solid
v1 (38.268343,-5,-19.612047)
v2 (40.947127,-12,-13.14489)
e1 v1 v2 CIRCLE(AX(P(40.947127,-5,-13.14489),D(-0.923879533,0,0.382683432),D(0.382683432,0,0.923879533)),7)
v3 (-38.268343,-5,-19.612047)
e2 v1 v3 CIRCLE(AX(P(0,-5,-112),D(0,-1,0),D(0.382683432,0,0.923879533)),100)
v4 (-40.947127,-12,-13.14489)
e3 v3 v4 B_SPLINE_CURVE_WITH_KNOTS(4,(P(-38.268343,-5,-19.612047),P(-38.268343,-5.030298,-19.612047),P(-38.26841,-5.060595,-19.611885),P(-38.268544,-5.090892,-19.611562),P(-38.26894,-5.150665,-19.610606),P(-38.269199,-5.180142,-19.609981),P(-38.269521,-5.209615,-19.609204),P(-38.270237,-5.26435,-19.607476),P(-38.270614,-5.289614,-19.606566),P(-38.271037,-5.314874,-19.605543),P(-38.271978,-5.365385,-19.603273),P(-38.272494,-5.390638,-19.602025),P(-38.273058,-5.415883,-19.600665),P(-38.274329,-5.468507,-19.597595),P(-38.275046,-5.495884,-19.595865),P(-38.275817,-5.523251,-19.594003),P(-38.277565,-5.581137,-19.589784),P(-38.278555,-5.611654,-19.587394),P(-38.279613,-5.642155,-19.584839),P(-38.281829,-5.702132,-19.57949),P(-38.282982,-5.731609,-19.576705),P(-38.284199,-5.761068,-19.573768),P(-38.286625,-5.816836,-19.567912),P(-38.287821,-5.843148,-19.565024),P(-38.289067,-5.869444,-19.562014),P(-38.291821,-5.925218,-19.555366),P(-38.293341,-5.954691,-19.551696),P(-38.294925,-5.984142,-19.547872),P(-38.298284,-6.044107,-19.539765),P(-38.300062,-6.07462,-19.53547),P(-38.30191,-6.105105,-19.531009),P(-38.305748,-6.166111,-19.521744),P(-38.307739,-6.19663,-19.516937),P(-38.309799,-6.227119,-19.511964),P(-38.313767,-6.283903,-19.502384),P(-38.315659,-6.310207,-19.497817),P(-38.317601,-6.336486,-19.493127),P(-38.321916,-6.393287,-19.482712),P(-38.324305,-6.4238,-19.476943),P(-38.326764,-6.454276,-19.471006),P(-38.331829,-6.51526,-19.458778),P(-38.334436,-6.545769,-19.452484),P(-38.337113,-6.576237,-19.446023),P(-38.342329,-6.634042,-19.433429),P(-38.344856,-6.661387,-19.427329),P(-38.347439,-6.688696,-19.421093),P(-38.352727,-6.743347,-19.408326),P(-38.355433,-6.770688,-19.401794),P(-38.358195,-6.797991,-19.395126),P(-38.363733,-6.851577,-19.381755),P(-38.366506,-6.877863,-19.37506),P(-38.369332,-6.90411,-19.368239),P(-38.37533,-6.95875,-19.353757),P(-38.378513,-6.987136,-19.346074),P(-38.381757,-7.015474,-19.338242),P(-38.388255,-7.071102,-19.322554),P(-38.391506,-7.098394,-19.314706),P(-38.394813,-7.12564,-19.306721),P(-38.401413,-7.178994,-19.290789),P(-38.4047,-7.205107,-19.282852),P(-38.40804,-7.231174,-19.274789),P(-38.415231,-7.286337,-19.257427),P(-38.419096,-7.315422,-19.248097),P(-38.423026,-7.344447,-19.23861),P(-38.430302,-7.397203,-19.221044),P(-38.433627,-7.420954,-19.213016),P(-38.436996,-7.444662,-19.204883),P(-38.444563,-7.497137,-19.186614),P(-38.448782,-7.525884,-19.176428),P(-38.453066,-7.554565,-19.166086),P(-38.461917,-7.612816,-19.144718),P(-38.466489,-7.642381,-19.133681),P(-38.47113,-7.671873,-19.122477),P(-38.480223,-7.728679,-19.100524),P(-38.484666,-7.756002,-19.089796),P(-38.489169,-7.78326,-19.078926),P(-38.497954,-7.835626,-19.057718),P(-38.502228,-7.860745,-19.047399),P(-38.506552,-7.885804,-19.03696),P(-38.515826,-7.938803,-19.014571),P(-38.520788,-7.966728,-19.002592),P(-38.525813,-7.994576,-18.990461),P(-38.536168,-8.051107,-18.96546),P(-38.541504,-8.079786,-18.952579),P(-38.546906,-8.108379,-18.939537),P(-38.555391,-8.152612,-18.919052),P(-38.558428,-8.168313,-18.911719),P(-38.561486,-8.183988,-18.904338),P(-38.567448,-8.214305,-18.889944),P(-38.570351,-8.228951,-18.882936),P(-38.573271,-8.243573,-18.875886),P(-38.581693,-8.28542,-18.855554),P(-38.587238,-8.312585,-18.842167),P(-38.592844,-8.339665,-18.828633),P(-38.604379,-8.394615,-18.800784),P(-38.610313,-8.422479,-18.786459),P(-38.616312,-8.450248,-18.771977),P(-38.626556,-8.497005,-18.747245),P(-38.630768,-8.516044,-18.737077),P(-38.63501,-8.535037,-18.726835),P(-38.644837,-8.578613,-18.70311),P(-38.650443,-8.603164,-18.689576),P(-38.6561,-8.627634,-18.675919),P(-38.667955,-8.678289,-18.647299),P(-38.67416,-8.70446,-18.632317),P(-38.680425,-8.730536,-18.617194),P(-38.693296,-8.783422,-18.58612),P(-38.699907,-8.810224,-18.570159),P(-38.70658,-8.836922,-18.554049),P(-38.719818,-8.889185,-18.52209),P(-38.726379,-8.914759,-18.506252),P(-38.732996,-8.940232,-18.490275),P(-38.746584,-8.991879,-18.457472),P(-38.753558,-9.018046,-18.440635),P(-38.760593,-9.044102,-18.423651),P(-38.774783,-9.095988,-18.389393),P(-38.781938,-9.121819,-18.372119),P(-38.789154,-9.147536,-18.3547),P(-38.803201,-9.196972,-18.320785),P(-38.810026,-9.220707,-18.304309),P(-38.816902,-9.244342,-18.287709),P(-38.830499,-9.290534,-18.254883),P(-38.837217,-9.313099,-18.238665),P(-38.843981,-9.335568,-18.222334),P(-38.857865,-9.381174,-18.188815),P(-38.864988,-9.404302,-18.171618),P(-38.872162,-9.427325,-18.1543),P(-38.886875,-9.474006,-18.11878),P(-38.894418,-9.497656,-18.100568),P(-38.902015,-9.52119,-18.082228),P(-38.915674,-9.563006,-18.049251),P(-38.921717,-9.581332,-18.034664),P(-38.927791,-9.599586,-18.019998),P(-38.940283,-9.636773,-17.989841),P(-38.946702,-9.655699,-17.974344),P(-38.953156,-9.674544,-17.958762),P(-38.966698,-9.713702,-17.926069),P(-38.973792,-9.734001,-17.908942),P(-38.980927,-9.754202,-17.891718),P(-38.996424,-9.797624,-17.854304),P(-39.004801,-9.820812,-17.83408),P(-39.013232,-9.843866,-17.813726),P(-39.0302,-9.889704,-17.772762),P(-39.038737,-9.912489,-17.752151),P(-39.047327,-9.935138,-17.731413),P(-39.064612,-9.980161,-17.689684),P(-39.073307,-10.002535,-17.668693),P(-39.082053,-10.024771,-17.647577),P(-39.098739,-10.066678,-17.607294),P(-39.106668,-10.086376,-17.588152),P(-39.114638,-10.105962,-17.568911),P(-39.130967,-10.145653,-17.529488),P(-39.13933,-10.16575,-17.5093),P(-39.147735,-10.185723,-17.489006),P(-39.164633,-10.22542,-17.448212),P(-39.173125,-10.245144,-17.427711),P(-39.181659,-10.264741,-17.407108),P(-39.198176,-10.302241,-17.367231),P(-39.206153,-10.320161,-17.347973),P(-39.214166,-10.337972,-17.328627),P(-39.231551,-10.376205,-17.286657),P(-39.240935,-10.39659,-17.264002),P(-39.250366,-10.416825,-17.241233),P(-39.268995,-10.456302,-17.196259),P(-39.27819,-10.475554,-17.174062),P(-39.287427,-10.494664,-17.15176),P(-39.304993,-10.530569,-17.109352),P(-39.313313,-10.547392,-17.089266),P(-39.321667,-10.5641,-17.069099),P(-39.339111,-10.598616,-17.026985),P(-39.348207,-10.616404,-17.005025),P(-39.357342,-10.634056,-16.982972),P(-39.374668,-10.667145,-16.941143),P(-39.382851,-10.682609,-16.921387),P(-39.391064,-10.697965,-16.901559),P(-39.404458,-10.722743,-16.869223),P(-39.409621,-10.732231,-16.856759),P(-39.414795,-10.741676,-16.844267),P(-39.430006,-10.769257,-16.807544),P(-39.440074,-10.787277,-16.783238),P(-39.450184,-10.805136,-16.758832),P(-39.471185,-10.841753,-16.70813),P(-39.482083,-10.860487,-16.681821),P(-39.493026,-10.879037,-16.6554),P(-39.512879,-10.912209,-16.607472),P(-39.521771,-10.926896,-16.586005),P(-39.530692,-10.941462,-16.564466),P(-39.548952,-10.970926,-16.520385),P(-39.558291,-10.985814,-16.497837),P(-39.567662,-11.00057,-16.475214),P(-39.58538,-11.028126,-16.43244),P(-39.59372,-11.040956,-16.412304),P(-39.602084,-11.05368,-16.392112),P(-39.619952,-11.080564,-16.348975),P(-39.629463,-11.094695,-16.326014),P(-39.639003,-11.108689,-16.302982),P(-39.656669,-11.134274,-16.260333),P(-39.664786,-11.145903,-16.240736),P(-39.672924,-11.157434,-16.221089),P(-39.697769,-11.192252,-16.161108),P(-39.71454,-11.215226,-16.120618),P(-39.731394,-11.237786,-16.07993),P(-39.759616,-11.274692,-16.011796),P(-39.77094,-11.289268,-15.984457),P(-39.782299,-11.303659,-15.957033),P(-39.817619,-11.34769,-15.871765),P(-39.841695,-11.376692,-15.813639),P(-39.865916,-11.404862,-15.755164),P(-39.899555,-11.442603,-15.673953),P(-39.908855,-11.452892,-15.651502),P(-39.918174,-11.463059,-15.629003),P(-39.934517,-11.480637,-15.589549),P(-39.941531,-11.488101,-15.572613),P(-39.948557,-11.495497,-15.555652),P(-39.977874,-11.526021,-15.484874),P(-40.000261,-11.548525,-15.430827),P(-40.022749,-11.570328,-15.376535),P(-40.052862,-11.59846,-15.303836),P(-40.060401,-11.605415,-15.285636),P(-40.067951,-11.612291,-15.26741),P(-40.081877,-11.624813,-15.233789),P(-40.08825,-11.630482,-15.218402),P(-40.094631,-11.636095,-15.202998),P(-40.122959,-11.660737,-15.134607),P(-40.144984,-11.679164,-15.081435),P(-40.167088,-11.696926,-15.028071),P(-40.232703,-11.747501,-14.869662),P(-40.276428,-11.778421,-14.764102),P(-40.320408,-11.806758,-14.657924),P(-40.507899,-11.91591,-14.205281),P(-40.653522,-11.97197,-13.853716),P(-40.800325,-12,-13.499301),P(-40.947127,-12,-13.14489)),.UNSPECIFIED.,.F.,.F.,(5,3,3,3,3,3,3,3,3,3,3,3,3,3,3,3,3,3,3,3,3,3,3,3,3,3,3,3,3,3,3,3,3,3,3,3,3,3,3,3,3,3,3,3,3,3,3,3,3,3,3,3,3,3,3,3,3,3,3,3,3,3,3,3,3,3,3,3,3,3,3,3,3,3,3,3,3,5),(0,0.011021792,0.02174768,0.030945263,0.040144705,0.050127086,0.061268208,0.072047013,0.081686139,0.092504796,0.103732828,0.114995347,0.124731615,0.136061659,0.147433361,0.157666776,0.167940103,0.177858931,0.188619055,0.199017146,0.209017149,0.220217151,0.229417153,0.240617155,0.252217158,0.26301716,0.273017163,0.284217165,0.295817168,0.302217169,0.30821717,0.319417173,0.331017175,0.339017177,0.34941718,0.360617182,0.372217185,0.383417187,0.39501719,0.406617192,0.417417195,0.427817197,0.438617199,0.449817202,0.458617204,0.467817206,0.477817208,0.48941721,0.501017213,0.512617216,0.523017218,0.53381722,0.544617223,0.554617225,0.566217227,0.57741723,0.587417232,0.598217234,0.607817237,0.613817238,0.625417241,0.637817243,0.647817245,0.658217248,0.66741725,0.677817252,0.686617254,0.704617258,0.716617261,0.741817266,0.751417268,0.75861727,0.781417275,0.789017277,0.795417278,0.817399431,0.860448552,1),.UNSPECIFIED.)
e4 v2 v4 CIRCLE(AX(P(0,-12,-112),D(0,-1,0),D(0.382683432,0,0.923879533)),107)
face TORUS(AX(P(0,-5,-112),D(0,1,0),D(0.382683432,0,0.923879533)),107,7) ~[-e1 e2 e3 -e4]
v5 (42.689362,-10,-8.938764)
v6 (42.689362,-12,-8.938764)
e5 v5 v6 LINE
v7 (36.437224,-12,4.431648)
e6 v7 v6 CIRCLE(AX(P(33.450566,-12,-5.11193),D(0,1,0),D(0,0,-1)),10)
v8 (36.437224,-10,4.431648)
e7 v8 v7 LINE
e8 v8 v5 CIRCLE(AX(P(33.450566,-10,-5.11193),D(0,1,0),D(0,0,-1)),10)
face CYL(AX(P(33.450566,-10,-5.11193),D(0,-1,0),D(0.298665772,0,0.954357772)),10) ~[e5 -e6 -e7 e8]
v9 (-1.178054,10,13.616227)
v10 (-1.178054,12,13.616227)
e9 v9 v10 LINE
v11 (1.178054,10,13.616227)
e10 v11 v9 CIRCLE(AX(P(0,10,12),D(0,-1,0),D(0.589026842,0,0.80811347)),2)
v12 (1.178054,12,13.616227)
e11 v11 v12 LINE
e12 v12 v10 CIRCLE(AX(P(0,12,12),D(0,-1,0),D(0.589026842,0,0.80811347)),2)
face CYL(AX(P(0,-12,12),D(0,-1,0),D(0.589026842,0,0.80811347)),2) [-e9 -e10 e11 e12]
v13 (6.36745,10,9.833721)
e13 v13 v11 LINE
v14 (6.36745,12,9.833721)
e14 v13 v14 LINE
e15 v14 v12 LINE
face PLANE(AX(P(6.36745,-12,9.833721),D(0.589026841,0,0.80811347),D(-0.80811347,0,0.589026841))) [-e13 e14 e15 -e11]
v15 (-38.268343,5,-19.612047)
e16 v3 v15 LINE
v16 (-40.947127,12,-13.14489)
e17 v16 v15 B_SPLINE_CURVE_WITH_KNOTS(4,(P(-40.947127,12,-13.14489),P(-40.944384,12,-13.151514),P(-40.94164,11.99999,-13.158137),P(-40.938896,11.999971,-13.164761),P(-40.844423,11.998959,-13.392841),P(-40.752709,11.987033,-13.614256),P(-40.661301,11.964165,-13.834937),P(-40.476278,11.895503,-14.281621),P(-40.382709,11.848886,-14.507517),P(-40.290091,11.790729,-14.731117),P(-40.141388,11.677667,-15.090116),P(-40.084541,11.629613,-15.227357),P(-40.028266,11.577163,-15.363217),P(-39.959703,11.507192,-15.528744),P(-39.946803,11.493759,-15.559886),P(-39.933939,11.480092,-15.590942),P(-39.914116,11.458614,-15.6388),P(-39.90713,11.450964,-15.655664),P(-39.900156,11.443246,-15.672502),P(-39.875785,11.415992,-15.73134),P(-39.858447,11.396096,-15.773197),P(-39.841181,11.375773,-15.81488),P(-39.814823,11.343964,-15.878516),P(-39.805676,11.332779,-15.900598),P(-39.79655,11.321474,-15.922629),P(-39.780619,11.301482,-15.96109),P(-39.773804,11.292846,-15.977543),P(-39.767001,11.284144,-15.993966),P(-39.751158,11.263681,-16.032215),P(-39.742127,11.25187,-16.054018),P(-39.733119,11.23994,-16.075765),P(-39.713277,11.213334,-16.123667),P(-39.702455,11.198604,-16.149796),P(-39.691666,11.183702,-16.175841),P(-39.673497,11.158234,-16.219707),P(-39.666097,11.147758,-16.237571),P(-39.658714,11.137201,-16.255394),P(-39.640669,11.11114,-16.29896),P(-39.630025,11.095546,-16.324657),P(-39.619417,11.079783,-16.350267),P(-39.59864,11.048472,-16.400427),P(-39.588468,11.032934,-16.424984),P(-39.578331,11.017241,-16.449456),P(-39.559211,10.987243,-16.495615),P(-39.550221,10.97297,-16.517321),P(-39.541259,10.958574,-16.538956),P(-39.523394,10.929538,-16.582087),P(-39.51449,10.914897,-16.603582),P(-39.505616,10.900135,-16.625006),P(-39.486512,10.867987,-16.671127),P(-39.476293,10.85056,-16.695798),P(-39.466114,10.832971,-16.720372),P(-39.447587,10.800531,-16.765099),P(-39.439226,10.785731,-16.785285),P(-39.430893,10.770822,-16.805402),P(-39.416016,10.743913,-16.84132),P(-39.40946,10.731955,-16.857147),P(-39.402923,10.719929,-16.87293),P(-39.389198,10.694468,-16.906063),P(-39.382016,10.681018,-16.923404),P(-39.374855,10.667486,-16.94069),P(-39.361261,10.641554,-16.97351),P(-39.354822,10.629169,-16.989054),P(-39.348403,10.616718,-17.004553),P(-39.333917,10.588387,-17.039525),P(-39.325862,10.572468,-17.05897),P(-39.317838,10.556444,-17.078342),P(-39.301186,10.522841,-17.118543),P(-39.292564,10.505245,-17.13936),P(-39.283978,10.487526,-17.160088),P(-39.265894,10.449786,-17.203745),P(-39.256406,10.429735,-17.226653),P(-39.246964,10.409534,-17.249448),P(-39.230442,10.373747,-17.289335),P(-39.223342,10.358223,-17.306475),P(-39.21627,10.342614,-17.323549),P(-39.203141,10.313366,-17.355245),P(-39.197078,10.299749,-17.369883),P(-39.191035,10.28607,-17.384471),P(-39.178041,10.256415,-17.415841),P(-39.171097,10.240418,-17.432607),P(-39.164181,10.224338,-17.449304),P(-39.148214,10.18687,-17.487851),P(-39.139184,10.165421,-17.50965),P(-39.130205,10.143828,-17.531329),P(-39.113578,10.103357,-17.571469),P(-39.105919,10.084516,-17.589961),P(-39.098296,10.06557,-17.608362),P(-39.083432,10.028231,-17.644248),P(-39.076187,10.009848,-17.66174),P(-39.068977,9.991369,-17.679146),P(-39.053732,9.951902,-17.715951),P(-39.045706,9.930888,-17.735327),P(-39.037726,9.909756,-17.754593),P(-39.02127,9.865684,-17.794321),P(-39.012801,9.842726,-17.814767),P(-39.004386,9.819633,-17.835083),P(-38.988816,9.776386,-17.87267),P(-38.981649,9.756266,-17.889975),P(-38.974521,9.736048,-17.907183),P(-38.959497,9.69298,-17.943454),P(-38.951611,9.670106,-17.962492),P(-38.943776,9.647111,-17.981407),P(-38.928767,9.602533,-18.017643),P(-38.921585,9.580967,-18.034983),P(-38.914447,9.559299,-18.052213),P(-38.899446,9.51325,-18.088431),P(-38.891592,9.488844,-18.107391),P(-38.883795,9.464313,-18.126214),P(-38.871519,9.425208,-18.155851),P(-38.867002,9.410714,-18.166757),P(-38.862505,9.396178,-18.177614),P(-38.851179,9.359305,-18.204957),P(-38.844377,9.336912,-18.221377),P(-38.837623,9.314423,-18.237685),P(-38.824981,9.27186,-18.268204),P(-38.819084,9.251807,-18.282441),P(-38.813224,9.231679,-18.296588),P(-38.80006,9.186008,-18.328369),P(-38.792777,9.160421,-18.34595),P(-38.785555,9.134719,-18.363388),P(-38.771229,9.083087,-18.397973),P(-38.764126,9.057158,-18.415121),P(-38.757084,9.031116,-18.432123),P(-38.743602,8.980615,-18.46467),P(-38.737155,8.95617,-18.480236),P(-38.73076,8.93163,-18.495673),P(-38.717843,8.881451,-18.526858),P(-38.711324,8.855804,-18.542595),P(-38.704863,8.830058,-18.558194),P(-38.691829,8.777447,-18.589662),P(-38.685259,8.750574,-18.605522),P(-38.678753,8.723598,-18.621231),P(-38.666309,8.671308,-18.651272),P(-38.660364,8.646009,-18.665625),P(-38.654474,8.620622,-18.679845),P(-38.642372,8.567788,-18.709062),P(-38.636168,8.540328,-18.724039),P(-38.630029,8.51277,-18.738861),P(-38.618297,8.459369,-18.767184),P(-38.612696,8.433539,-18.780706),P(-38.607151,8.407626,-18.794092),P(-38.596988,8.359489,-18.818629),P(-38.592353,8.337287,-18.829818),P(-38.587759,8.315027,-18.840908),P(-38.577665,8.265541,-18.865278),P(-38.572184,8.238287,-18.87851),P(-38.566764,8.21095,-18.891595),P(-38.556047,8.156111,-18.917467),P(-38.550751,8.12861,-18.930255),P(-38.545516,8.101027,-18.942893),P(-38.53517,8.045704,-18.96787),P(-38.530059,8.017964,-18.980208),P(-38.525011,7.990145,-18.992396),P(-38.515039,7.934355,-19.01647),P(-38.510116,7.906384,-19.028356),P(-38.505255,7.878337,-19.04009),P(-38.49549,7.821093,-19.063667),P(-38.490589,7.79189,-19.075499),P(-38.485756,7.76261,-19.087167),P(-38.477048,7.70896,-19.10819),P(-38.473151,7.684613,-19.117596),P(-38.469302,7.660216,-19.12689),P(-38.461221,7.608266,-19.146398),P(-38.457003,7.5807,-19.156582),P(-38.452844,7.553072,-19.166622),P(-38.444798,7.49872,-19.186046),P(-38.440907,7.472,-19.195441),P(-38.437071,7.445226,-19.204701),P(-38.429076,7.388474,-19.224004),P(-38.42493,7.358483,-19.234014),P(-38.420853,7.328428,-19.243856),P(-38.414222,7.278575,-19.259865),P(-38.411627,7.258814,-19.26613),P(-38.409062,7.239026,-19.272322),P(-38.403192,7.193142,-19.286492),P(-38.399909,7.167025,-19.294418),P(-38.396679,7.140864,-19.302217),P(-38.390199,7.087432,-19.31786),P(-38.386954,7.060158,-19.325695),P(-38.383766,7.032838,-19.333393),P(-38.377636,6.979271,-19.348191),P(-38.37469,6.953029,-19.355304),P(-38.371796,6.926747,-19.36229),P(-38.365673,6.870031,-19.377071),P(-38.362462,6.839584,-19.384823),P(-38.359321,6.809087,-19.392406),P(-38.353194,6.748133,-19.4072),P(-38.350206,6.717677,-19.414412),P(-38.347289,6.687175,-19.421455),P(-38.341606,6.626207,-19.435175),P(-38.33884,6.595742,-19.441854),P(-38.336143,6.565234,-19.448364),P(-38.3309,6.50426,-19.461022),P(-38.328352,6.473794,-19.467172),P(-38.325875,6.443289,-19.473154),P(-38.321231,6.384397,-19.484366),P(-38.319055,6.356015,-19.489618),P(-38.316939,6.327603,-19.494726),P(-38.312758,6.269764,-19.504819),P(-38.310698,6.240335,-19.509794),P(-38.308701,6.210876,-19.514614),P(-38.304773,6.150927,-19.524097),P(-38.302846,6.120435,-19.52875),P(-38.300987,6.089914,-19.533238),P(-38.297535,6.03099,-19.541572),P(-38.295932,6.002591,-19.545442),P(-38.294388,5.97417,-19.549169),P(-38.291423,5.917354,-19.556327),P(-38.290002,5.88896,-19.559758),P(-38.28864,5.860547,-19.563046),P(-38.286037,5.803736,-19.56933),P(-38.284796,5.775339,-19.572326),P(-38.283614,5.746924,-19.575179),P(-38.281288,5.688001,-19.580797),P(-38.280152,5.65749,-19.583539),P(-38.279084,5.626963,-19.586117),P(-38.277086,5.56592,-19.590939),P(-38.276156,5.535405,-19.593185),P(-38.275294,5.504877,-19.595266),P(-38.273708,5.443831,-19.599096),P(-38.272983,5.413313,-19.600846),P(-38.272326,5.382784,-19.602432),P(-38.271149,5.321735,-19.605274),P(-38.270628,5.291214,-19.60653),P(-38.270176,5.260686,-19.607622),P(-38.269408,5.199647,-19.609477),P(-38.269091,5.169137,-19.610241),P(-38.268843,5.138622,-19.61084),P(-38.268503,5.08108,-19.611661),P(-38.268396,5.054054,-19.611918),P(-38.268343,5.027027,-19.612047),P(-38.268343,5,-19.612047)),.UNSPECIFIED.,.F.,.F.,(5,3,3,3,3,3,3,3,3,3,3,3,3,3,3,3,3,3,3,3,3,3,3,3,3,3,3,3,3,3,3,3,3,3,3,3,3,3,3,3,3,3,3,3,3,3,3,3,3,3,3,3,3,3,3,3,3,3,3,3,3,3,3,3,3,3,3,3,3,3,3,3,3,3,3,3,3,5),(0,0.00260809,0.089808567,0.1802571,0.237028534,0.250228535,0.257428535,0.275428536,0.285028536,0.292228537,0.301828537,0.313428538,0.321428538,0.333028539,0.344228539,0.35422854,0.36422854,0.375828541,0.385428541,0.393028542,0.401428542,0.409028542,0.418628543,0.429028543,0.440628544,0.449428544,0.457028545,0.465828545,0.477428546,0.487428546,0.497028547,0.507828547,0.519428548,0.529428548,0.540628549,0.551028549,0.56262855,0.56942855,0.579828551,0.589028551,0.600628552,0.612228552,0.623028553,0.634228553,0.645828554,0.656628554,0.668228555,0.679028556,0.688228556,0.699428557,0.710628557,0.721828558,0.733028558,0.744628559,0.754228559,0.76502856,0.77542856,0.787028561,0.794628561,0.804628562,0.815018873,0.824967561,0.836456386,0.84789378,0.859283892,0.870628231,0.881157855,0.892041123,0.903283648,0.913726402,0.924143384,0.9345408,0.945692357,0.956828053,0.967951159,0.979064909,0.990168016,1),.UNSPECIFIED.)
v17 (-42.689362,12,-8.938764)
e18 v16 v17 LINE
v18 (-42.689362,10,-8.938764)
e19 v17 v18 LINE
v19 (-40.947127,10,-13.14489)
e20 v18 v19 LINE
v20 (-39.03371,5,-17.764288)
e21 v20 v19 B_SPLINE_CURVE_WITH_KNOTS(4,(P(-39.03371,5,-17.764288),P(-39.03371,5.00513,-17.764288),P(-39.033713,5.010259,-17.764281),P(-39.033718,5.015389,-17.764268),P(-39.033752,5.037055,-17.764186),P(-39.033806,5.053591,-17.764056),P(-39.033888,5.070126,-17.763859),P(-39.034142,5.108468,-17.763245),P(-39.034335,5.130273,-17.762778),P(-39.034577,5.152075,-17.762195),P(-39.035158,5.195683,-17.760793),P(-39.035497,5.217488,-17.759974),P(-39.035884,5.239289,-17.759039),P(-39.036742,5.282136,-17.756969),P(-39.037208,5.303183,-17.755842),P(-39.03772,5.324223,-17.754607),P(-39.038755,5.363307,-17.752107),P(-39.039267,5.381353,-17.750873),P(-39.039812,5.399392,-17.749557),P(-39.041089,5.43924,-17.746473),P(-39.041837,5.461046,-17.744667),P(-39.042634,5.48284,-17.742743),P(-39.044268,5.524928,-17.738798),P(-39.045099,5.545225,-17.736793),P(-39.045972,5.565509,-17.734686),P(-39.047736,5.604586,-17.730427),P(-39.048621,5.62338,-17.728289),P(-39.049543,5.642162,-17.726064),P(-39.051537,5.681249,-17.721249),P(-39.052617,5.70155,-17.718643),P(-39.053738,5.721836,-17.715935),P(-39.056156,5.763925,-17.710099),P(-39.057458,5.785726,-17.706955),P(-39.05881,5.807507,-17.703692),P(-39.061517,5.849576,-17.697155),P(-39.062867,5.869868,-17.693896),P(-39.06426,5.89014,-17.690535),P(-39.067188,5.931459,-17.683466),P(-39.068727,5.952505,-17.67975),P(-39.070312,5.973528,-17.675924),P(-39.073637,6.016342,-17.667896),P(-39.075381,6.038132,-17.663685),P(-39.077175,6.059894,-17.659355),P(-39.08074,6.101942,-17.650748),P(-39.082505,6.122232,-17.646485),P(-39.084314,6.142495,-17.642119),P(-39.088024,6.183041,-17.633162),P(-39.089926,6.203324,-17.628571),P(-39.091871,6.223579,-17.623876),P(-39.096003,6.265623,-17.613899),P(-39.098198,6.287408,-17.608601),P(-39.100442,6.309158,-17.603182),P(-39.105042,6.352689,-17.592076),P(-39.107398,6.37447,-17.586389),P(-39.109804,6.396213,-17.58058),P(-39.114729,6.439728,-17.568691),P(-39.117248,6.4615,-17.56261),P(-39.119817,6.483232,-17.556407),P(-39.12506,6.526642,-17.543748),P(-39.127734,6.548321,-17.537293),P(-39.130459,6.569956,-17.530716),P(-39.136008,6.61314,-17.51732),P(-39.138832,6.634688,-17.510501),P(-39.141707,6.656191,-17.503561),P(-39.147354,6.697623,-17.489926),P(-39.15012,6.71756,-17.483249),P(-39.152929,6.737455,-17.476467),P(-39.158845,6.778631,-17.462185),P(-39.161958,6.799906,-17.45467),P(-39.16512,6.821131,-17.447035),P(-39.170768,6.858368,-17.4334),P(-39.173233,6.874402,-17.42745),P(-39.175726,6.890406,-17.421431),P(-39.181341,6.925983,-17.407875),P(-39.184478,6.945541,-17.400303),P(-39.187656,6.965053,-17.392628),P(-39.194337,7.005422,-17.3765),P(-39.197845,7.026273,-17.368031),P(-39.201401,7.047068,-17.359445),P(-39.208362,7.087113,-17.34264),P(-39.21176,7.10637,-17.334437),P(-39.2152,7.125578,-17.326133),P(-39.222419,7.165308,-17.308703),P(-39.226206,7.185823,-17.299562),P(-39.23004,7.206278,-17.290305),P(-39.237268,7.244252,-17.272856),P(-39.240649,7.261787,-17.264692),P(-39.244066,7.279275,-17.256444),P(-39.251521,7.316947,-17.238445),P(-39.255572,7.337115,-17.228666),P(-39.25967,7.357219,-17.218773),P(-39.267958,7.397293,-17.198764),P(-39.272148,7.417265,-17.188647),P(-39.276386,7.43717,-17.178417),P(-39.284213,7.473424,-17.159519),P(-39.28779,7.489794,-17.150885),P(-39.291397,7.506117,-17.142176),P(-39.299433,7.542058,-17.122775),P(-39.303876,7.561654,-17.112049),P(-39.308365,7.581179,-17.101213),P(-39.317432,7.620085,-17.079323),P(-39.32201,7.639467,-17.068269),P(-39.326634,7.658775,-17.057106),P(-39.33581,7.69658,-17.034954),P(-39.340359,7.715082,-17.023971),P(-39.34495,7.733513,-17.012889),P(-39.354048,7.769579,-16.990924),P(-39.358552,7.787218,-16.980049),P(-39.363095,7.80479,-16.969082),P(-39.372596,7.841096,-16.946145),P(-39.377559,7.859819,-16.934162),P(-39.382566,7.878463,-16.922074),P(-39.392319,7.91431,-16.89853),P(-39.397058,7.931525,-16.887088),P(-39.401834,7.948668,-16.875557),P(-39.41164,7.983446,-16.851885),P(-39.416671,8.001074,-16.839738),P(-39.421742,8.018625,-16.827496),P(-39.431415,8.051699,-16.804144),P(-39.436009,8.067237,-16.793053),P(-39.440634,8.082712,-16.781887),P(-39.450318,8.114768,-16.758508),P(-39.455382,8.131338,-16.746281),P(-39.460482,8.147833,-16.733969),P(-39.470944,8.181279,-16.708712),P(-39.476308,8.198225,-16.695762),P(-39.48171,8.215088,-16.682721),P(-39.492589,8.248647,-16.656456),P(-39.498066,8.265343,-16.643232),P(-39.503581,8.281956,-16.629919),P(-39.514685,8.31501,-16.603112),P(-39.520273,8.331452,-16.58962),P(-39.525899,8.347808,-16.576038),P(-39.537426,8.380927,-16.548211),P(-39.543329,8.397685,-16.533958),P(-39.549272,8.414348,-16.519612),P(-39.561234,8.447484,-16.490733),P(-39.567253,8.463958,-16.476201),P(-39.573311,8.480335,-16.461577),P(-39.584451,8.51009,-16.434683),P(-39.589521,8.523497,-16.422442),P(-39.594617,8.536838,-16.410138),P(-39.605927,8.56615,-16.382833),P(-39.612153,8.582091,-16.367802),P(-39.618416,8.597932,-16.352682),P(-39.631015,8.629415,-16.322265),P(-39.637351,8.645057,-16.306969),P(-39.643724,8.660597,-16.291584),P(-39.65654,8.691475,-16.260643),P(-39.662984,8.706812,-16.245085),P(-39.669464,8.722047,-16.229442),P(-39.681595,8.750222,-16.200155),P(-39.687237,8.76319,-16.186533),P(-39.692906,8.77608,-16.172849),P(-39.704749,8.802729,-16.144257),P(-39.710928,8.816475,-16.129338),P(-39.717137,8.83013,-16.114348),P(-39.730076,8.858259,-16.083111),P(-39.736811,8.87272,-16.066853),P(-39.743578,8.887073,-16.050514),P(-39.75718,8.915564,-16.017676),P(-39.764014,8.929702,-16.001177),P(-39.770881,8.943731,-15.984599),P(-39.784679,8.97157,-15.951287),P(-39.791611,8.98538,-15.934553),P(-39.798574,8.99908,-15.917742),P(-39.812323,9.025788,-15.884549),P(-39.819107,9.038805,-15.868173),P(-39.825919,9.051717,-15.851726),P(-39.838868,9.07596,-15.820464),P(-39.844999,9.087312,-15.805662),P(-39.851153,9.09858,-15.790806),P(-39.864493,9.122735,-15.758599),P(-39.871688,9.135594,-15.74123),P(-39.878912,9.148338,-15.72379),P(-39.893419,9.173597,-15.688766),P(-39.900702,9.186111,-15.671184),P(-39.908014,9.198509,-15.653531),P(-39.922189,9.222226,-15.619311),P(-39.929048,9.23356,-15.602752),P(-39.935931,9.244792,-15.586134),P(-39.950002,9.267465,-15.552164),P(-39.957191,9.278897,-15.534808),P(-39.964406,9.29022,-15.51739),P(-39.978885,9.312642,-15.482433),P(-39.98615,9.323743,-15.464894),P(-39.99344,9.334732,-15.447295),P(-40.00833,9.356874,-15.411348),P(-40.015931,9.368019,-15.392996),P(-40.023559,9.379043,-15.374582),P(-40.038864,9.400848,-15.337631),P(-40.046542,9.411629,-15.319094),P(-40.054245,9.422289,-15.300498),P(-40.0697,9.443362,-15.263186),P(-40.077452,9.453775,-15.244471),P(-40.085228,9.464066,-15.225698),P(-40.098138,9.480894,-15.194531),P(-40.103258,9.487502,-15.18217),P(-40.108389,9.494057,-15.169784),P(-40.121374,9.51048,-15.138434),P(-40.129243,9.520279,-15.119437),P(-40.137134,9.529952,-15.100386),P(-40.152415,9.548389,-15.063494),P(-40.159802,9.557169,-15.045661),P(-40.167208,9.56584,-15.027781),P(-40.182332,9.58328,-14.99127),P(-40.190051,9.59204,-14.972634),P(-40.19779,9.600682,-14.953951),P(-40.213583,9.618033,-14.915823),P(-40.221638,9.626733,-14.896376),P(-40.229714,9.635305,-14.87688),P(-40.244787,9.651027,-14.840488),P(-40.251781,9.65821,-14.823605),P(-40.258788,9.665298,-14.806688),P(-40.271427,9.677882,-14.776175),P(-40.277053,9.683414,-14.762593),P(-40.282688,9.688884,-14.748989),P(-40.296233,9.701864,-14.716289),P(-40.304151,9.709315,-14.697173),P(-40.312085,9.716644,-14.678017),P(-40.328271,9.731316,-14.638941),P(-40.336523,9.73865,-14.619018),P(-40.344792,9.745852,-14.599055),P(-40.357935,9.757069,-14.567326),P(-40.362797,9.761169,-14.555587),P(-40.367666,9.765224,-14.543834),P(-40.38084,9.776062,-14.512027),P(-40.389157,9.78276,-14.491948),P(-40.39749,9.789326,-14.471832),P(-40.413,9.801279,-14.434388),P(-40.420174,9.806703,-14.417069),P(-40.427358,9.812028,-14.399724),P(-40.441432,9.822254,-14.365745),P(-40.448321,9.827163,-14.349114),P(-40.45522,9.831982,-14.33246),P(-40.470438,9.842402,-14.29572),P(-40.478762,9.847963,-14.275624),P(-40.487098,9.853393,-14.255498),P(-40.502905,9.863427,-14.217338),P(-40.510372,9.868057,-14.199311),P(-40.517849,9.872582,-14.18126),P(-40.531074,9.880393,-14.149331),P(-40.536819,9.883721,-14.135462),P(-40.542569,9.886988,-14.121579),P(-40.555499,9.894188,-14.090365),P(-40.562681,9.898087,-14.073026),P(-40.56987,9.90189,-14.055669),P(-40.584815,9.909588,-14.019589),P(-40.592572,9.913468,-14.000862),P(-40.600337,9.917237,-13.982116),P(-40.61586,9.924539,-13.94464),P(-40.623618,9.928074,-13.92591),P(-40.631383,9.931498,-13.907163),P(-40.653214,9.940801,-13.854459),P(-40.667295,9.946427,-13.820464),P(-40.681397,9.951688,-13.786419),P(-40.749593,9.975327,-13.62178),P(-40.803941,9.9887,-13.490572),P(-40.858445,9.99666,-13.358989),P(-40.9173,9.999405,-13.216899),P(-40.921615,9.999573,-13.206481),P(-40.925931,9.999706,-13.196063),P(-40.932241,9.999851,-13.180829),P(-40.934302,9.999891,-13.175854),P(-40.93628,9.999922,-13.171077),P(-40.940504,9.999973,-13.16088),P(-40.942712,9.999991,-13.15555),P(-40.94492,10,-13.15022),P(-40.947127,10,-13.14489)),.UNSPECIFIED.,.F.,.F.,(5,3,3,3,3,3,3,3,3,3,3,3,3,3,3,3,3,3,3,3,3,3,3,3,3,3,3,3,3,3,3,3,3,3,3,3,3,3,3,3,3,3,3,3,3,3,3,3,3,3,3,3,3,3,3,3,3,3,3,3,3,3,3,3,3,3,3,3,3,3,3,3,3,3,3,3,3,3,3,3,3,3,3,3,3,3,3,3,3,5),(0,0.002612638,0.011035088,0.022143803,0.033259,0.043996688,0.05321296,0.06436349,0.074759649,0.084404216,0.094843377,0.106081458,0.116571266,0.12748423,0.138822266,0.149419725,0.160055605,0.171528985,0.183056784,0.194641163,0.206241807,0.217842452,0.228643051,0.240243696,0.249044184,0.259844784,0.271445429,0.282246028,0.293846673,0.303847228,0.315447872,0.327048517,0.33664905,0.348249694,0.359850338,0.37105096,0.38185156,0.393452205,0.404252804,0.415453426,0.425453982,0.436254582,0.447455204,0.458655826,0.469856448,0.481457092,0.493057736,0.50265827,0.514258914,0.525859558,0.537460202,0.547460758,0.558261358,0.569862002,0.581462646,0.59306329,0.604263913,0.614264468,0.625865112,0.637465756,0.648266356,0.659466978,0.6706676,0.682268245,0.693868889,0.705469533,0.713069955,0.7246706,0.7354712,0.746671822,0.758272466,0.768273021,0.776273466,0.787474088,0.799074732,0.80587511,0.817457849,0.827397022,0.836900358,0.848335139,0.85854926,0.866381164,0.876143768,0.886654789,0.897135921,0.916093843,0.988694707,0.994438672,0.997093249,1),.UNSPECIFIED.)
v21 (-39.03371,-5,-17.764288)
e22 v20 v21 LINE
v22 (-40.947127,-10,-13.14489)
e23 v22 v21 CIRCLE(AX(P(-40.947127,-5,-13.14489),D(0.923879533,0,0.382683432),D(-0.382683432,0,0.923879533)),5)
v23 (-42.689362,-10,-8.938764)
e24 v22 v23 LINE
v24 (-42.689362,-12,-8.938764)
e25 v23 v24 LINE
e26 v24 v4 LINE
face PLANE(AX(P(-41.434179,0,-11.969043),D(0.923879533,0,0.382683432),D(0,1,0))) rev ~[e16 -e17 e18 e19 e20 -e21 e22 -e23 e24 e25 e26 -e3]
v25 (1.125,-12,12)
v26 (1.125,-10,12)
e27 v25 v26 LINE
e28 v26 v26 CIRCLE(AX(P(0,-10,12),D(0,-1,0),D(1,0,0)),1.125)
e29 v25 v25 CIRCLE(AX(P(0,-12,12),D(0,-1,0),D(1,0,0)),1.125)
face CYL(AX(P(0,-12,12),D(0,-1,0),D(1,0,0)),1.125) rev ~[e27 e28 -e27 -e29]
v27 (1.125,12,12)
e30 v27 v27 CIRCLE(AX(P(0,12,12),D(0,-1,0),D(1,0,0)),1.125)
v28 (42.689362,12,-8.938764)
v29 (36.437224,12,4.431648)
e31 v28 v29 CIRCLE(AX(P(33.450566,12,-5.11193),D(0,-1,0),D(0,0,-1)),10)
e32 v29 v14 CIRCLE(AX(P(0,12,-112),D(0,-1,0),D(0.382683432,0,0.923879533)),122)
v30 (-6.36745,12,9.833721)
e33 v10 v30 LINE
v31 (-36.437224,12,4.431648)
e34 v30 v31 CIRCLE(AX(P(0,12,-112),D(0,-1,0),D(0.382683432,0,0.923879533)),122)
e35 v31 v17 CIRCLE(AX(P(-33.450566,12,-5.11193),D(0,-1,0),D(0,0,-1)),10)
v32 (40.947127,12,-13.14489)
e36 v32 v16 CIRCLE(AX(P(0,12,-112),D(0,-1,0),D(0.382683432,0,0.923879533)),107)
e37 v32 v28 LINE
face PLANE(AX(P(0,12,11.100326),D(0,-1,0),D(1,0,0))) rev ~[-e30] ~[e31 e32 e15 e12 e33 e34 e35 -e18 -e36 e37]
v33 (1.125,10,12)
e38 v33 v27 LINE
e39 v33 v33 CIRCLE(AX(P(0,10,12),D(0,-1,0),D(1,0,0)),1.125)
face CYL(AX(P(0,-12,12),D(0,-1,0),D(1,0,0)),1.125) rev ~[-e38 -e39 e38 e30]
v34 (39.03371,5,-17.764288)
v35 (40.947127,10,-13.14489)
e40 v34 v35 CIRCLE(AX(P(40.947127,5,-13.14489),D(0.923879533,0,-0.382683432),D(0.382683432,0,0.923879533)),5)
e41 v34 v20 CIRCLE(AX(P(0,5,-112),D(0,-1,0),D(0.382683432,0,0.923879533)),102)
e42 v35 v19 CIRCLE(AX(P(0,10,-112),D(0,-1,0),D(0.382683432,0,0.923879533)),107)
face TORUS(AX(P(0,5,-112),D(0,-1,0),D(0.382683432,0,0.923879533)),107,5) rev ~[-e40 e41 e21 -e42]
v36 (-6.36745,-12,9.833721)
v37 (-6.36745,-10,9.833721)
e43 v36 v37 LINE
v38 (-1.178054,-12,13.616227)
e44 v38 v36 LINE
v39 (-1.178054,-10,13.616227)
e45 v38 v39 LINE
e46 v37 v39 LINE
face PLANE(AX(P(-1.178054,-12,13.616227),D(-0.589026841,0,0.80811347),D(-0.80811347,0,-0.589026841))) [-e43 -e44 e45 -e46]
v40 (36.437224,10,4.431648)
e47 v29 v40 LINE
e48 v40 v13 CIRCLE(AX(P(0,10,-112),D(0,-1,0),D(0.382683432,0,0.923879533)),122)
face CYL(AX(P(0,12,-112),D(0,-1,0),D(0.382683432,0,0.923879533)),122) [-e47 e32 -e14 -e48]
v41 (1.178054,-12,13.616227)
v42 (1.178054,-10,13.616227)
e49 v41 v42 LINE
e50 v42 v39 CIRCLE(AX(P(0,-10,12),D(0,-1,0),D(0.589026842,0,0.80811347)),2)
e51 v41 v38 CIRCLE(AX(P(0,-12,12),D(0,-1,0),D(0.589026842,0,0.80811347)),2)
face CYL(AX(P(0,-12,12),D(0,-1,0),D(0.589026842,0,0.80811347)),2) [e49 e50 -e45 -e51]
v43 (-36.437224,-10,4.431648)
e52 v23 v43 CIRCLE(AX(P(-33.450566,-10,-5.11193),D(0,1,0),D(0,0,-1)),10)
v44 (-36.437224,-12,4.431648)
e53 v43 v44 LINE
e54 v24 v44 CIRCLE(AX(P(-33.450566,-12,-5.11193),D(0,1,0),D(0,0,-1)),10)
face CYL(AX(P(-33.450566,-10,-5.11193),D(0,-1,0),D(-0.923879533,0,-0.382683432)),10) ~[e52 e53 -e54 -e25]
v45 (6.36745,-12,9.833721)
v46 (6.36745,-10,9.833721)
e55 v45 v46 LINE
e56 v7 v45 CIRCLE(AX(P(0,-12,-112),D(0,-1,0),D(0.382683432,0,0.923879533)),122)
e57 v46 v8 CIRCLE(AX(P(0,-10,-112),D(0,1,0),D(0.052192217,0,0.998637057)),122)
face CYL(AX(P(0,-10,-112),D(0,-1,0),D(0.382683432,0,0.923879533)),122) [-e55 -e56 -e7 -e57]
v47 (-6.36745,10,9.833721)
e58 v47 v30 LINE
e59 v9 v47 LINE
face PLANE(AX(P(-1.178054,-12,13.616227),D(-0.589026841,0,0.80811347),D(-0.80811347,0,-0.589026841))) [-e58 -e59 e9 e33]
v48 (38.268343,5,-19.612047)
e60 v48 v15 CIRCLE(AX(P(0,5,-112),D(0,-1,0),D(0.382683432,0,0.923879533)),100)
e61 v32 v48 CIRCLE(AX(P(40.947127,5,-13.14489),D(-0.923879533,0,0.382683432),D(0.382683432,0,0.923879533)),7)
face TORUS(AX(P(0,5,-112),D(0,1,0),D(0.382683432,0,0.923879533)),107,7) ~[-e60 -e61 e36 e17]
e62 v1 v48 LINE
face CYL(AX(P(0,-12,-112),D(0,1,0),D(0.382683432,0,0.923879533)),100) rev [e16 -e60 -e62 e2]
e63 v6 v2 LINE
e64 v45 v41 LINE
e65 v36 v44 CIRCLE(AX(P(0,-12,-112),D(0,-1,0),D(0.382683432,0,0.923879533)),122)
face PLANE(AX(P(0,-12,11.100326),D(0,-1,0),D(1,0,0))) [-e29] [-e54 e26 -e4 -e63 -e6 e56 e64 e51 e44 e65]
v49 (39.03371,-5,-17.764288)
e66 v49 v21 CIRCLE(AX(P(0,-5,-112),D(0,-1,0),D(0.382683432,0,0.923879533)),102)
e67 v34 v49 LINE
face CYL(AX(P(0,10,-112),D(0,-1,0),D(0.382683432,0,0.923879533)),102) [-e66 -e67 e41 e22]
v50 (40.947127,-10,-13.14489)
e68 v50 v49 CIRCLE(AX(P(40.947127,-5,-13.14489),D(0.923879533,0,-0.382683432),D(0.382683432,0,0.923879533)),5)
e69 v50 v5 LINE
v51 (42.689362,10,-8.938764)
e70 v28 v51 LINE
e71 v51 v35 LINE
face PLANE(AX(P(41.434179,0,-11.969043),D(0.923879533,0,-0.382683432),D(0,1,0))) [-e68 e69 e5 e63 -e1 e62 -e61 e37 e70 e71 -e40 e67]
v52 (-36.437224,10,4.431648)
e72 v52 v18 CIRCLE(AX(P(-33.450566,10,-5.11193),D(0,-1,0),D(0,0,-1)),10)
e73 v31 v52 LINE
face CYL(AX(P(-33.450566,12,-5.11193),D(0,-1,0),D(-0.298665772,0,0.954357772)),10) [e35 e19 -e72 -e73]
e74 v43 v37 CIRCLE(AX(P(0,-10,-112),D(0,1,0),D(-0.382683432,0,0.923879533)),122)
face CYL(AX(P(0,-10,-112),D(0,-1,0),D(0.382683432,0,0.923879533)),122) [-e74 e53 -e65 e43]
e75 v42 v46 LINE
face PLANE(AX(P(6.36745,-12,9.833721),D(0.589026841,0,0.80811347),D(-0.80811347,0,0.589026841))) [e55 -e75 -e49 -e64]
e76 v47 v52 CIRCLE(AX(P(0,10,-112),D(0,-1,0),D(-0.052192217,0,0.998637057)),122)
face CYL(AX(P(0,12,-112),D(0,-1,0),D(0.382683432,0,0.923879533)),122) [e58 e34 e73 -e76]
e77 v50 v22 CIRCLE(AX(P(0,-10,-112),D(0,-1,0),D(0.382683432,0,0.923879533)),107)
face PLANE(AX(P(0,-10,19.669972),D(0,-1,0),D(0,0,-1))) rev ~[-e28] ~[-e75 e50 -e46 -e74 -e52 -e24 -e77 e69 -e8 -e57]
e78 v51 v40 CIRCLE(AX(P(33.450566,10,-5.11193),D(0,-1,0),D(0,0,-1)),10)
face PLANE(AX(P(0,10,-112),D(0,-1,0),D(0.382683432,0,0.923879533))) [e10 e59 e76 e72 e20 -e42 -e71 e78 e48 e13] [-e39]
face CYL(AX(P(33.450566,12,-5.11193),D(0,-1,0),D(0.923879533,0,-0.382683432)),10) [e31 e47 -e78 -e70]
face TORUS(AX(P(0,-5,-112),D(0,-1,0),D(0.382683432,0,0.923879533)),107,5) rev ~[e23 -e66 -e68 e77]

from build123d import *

# Parameters (mm, degrees)
F1_ANGLE_BACK = 22.5
F1_ANGLE      = 45
F2_R          = 1.125
F3_DEPTH      = 24
F5_DEPTH      = 10
F6_R          = 10
F7_R          = 5
F8_R          = 7


with BuildPart() as f1:
    # F0 (on Right) → F1 (revolve)
    with BuildSketch(Plane.YZ, mode=Mode.PRIVATE) as f1_sk:
        Polygon((10, 10), (10, -10), (-10, -10), (-10, 10), (-12, 10), (-12, -12), (12, -12), (12, 10), align=None)
    revolve(f1_sk.sketch.rotate(Axis((0, -36.9127653539, -112), (0, -1, 0)), -F1_ANGLE_BACK), axis=Axis((0, -36.9127653539, -112), (0, -1, 0)), revolution_arc=F1_ANGLE)

    # F2 (on face) → F3 (join)
    with BuildSketch(Plane.XZ.offset(12)):
        with BuildLine():
            Line((6.3674504599, 9.8337210079), (1.178053683, 13.6162269395))
            ThreePointArc((1.178053683, 13.6162269395), (0, 14), (-1.178053683, 13.6162269395))
            Line((-1.178053683, 13.6162269395), (-6.3674504599, 9.8337210079))
            ThreePointArc((-6.3674504599, 9.8337210079), (0, 10), (6.3674504599, 9.8337210079))
        make_face()
        with Locations((0, 12)):
            Circle(F2_R, mode=Mode.SUBTRACT)
    extrude(amount=-F3_DEPTH)

    # F4 (on Right) → F5 (cut, symmetric)
    with BuildSketch(Plane.YZ):
        Polygon((-10, 0), (0, 0), (10, 0), (10, 19.6699723601), (-10, 19.6699723601), align=None)
    extrude(amount=F5_DEPTH, both=True, mode=Mode.SUBTRACT)

    # F6
    f6_edges = [f1.edges().sort_by_distance(p)[0] for p in [
        (-46.687379, 11, 0.713303),
        (-46.687379, -11, 0.713303),
        (46.687379, -11, 0.713303),
        (46.687379, 11, 0.713303),
    ]]
    fillet(f6_edges, radius=F6_R)

    # F7
    f7_edges = [f1.edges().sort_by_distance(p)[0] for p in [
        (0, 10, -10),
        (0, -10, -10),
    ]]
    fillet(f7_edges, radius=F7_R)

    # F8
    f8_edges = [f1.edges().sort_by_distance(p)[0] for p in [
        (0, 12, -12),
        (0, -12, -12),
    ]]
    fillet(f8_edges, radius=F8_R)


solid = f1.part
